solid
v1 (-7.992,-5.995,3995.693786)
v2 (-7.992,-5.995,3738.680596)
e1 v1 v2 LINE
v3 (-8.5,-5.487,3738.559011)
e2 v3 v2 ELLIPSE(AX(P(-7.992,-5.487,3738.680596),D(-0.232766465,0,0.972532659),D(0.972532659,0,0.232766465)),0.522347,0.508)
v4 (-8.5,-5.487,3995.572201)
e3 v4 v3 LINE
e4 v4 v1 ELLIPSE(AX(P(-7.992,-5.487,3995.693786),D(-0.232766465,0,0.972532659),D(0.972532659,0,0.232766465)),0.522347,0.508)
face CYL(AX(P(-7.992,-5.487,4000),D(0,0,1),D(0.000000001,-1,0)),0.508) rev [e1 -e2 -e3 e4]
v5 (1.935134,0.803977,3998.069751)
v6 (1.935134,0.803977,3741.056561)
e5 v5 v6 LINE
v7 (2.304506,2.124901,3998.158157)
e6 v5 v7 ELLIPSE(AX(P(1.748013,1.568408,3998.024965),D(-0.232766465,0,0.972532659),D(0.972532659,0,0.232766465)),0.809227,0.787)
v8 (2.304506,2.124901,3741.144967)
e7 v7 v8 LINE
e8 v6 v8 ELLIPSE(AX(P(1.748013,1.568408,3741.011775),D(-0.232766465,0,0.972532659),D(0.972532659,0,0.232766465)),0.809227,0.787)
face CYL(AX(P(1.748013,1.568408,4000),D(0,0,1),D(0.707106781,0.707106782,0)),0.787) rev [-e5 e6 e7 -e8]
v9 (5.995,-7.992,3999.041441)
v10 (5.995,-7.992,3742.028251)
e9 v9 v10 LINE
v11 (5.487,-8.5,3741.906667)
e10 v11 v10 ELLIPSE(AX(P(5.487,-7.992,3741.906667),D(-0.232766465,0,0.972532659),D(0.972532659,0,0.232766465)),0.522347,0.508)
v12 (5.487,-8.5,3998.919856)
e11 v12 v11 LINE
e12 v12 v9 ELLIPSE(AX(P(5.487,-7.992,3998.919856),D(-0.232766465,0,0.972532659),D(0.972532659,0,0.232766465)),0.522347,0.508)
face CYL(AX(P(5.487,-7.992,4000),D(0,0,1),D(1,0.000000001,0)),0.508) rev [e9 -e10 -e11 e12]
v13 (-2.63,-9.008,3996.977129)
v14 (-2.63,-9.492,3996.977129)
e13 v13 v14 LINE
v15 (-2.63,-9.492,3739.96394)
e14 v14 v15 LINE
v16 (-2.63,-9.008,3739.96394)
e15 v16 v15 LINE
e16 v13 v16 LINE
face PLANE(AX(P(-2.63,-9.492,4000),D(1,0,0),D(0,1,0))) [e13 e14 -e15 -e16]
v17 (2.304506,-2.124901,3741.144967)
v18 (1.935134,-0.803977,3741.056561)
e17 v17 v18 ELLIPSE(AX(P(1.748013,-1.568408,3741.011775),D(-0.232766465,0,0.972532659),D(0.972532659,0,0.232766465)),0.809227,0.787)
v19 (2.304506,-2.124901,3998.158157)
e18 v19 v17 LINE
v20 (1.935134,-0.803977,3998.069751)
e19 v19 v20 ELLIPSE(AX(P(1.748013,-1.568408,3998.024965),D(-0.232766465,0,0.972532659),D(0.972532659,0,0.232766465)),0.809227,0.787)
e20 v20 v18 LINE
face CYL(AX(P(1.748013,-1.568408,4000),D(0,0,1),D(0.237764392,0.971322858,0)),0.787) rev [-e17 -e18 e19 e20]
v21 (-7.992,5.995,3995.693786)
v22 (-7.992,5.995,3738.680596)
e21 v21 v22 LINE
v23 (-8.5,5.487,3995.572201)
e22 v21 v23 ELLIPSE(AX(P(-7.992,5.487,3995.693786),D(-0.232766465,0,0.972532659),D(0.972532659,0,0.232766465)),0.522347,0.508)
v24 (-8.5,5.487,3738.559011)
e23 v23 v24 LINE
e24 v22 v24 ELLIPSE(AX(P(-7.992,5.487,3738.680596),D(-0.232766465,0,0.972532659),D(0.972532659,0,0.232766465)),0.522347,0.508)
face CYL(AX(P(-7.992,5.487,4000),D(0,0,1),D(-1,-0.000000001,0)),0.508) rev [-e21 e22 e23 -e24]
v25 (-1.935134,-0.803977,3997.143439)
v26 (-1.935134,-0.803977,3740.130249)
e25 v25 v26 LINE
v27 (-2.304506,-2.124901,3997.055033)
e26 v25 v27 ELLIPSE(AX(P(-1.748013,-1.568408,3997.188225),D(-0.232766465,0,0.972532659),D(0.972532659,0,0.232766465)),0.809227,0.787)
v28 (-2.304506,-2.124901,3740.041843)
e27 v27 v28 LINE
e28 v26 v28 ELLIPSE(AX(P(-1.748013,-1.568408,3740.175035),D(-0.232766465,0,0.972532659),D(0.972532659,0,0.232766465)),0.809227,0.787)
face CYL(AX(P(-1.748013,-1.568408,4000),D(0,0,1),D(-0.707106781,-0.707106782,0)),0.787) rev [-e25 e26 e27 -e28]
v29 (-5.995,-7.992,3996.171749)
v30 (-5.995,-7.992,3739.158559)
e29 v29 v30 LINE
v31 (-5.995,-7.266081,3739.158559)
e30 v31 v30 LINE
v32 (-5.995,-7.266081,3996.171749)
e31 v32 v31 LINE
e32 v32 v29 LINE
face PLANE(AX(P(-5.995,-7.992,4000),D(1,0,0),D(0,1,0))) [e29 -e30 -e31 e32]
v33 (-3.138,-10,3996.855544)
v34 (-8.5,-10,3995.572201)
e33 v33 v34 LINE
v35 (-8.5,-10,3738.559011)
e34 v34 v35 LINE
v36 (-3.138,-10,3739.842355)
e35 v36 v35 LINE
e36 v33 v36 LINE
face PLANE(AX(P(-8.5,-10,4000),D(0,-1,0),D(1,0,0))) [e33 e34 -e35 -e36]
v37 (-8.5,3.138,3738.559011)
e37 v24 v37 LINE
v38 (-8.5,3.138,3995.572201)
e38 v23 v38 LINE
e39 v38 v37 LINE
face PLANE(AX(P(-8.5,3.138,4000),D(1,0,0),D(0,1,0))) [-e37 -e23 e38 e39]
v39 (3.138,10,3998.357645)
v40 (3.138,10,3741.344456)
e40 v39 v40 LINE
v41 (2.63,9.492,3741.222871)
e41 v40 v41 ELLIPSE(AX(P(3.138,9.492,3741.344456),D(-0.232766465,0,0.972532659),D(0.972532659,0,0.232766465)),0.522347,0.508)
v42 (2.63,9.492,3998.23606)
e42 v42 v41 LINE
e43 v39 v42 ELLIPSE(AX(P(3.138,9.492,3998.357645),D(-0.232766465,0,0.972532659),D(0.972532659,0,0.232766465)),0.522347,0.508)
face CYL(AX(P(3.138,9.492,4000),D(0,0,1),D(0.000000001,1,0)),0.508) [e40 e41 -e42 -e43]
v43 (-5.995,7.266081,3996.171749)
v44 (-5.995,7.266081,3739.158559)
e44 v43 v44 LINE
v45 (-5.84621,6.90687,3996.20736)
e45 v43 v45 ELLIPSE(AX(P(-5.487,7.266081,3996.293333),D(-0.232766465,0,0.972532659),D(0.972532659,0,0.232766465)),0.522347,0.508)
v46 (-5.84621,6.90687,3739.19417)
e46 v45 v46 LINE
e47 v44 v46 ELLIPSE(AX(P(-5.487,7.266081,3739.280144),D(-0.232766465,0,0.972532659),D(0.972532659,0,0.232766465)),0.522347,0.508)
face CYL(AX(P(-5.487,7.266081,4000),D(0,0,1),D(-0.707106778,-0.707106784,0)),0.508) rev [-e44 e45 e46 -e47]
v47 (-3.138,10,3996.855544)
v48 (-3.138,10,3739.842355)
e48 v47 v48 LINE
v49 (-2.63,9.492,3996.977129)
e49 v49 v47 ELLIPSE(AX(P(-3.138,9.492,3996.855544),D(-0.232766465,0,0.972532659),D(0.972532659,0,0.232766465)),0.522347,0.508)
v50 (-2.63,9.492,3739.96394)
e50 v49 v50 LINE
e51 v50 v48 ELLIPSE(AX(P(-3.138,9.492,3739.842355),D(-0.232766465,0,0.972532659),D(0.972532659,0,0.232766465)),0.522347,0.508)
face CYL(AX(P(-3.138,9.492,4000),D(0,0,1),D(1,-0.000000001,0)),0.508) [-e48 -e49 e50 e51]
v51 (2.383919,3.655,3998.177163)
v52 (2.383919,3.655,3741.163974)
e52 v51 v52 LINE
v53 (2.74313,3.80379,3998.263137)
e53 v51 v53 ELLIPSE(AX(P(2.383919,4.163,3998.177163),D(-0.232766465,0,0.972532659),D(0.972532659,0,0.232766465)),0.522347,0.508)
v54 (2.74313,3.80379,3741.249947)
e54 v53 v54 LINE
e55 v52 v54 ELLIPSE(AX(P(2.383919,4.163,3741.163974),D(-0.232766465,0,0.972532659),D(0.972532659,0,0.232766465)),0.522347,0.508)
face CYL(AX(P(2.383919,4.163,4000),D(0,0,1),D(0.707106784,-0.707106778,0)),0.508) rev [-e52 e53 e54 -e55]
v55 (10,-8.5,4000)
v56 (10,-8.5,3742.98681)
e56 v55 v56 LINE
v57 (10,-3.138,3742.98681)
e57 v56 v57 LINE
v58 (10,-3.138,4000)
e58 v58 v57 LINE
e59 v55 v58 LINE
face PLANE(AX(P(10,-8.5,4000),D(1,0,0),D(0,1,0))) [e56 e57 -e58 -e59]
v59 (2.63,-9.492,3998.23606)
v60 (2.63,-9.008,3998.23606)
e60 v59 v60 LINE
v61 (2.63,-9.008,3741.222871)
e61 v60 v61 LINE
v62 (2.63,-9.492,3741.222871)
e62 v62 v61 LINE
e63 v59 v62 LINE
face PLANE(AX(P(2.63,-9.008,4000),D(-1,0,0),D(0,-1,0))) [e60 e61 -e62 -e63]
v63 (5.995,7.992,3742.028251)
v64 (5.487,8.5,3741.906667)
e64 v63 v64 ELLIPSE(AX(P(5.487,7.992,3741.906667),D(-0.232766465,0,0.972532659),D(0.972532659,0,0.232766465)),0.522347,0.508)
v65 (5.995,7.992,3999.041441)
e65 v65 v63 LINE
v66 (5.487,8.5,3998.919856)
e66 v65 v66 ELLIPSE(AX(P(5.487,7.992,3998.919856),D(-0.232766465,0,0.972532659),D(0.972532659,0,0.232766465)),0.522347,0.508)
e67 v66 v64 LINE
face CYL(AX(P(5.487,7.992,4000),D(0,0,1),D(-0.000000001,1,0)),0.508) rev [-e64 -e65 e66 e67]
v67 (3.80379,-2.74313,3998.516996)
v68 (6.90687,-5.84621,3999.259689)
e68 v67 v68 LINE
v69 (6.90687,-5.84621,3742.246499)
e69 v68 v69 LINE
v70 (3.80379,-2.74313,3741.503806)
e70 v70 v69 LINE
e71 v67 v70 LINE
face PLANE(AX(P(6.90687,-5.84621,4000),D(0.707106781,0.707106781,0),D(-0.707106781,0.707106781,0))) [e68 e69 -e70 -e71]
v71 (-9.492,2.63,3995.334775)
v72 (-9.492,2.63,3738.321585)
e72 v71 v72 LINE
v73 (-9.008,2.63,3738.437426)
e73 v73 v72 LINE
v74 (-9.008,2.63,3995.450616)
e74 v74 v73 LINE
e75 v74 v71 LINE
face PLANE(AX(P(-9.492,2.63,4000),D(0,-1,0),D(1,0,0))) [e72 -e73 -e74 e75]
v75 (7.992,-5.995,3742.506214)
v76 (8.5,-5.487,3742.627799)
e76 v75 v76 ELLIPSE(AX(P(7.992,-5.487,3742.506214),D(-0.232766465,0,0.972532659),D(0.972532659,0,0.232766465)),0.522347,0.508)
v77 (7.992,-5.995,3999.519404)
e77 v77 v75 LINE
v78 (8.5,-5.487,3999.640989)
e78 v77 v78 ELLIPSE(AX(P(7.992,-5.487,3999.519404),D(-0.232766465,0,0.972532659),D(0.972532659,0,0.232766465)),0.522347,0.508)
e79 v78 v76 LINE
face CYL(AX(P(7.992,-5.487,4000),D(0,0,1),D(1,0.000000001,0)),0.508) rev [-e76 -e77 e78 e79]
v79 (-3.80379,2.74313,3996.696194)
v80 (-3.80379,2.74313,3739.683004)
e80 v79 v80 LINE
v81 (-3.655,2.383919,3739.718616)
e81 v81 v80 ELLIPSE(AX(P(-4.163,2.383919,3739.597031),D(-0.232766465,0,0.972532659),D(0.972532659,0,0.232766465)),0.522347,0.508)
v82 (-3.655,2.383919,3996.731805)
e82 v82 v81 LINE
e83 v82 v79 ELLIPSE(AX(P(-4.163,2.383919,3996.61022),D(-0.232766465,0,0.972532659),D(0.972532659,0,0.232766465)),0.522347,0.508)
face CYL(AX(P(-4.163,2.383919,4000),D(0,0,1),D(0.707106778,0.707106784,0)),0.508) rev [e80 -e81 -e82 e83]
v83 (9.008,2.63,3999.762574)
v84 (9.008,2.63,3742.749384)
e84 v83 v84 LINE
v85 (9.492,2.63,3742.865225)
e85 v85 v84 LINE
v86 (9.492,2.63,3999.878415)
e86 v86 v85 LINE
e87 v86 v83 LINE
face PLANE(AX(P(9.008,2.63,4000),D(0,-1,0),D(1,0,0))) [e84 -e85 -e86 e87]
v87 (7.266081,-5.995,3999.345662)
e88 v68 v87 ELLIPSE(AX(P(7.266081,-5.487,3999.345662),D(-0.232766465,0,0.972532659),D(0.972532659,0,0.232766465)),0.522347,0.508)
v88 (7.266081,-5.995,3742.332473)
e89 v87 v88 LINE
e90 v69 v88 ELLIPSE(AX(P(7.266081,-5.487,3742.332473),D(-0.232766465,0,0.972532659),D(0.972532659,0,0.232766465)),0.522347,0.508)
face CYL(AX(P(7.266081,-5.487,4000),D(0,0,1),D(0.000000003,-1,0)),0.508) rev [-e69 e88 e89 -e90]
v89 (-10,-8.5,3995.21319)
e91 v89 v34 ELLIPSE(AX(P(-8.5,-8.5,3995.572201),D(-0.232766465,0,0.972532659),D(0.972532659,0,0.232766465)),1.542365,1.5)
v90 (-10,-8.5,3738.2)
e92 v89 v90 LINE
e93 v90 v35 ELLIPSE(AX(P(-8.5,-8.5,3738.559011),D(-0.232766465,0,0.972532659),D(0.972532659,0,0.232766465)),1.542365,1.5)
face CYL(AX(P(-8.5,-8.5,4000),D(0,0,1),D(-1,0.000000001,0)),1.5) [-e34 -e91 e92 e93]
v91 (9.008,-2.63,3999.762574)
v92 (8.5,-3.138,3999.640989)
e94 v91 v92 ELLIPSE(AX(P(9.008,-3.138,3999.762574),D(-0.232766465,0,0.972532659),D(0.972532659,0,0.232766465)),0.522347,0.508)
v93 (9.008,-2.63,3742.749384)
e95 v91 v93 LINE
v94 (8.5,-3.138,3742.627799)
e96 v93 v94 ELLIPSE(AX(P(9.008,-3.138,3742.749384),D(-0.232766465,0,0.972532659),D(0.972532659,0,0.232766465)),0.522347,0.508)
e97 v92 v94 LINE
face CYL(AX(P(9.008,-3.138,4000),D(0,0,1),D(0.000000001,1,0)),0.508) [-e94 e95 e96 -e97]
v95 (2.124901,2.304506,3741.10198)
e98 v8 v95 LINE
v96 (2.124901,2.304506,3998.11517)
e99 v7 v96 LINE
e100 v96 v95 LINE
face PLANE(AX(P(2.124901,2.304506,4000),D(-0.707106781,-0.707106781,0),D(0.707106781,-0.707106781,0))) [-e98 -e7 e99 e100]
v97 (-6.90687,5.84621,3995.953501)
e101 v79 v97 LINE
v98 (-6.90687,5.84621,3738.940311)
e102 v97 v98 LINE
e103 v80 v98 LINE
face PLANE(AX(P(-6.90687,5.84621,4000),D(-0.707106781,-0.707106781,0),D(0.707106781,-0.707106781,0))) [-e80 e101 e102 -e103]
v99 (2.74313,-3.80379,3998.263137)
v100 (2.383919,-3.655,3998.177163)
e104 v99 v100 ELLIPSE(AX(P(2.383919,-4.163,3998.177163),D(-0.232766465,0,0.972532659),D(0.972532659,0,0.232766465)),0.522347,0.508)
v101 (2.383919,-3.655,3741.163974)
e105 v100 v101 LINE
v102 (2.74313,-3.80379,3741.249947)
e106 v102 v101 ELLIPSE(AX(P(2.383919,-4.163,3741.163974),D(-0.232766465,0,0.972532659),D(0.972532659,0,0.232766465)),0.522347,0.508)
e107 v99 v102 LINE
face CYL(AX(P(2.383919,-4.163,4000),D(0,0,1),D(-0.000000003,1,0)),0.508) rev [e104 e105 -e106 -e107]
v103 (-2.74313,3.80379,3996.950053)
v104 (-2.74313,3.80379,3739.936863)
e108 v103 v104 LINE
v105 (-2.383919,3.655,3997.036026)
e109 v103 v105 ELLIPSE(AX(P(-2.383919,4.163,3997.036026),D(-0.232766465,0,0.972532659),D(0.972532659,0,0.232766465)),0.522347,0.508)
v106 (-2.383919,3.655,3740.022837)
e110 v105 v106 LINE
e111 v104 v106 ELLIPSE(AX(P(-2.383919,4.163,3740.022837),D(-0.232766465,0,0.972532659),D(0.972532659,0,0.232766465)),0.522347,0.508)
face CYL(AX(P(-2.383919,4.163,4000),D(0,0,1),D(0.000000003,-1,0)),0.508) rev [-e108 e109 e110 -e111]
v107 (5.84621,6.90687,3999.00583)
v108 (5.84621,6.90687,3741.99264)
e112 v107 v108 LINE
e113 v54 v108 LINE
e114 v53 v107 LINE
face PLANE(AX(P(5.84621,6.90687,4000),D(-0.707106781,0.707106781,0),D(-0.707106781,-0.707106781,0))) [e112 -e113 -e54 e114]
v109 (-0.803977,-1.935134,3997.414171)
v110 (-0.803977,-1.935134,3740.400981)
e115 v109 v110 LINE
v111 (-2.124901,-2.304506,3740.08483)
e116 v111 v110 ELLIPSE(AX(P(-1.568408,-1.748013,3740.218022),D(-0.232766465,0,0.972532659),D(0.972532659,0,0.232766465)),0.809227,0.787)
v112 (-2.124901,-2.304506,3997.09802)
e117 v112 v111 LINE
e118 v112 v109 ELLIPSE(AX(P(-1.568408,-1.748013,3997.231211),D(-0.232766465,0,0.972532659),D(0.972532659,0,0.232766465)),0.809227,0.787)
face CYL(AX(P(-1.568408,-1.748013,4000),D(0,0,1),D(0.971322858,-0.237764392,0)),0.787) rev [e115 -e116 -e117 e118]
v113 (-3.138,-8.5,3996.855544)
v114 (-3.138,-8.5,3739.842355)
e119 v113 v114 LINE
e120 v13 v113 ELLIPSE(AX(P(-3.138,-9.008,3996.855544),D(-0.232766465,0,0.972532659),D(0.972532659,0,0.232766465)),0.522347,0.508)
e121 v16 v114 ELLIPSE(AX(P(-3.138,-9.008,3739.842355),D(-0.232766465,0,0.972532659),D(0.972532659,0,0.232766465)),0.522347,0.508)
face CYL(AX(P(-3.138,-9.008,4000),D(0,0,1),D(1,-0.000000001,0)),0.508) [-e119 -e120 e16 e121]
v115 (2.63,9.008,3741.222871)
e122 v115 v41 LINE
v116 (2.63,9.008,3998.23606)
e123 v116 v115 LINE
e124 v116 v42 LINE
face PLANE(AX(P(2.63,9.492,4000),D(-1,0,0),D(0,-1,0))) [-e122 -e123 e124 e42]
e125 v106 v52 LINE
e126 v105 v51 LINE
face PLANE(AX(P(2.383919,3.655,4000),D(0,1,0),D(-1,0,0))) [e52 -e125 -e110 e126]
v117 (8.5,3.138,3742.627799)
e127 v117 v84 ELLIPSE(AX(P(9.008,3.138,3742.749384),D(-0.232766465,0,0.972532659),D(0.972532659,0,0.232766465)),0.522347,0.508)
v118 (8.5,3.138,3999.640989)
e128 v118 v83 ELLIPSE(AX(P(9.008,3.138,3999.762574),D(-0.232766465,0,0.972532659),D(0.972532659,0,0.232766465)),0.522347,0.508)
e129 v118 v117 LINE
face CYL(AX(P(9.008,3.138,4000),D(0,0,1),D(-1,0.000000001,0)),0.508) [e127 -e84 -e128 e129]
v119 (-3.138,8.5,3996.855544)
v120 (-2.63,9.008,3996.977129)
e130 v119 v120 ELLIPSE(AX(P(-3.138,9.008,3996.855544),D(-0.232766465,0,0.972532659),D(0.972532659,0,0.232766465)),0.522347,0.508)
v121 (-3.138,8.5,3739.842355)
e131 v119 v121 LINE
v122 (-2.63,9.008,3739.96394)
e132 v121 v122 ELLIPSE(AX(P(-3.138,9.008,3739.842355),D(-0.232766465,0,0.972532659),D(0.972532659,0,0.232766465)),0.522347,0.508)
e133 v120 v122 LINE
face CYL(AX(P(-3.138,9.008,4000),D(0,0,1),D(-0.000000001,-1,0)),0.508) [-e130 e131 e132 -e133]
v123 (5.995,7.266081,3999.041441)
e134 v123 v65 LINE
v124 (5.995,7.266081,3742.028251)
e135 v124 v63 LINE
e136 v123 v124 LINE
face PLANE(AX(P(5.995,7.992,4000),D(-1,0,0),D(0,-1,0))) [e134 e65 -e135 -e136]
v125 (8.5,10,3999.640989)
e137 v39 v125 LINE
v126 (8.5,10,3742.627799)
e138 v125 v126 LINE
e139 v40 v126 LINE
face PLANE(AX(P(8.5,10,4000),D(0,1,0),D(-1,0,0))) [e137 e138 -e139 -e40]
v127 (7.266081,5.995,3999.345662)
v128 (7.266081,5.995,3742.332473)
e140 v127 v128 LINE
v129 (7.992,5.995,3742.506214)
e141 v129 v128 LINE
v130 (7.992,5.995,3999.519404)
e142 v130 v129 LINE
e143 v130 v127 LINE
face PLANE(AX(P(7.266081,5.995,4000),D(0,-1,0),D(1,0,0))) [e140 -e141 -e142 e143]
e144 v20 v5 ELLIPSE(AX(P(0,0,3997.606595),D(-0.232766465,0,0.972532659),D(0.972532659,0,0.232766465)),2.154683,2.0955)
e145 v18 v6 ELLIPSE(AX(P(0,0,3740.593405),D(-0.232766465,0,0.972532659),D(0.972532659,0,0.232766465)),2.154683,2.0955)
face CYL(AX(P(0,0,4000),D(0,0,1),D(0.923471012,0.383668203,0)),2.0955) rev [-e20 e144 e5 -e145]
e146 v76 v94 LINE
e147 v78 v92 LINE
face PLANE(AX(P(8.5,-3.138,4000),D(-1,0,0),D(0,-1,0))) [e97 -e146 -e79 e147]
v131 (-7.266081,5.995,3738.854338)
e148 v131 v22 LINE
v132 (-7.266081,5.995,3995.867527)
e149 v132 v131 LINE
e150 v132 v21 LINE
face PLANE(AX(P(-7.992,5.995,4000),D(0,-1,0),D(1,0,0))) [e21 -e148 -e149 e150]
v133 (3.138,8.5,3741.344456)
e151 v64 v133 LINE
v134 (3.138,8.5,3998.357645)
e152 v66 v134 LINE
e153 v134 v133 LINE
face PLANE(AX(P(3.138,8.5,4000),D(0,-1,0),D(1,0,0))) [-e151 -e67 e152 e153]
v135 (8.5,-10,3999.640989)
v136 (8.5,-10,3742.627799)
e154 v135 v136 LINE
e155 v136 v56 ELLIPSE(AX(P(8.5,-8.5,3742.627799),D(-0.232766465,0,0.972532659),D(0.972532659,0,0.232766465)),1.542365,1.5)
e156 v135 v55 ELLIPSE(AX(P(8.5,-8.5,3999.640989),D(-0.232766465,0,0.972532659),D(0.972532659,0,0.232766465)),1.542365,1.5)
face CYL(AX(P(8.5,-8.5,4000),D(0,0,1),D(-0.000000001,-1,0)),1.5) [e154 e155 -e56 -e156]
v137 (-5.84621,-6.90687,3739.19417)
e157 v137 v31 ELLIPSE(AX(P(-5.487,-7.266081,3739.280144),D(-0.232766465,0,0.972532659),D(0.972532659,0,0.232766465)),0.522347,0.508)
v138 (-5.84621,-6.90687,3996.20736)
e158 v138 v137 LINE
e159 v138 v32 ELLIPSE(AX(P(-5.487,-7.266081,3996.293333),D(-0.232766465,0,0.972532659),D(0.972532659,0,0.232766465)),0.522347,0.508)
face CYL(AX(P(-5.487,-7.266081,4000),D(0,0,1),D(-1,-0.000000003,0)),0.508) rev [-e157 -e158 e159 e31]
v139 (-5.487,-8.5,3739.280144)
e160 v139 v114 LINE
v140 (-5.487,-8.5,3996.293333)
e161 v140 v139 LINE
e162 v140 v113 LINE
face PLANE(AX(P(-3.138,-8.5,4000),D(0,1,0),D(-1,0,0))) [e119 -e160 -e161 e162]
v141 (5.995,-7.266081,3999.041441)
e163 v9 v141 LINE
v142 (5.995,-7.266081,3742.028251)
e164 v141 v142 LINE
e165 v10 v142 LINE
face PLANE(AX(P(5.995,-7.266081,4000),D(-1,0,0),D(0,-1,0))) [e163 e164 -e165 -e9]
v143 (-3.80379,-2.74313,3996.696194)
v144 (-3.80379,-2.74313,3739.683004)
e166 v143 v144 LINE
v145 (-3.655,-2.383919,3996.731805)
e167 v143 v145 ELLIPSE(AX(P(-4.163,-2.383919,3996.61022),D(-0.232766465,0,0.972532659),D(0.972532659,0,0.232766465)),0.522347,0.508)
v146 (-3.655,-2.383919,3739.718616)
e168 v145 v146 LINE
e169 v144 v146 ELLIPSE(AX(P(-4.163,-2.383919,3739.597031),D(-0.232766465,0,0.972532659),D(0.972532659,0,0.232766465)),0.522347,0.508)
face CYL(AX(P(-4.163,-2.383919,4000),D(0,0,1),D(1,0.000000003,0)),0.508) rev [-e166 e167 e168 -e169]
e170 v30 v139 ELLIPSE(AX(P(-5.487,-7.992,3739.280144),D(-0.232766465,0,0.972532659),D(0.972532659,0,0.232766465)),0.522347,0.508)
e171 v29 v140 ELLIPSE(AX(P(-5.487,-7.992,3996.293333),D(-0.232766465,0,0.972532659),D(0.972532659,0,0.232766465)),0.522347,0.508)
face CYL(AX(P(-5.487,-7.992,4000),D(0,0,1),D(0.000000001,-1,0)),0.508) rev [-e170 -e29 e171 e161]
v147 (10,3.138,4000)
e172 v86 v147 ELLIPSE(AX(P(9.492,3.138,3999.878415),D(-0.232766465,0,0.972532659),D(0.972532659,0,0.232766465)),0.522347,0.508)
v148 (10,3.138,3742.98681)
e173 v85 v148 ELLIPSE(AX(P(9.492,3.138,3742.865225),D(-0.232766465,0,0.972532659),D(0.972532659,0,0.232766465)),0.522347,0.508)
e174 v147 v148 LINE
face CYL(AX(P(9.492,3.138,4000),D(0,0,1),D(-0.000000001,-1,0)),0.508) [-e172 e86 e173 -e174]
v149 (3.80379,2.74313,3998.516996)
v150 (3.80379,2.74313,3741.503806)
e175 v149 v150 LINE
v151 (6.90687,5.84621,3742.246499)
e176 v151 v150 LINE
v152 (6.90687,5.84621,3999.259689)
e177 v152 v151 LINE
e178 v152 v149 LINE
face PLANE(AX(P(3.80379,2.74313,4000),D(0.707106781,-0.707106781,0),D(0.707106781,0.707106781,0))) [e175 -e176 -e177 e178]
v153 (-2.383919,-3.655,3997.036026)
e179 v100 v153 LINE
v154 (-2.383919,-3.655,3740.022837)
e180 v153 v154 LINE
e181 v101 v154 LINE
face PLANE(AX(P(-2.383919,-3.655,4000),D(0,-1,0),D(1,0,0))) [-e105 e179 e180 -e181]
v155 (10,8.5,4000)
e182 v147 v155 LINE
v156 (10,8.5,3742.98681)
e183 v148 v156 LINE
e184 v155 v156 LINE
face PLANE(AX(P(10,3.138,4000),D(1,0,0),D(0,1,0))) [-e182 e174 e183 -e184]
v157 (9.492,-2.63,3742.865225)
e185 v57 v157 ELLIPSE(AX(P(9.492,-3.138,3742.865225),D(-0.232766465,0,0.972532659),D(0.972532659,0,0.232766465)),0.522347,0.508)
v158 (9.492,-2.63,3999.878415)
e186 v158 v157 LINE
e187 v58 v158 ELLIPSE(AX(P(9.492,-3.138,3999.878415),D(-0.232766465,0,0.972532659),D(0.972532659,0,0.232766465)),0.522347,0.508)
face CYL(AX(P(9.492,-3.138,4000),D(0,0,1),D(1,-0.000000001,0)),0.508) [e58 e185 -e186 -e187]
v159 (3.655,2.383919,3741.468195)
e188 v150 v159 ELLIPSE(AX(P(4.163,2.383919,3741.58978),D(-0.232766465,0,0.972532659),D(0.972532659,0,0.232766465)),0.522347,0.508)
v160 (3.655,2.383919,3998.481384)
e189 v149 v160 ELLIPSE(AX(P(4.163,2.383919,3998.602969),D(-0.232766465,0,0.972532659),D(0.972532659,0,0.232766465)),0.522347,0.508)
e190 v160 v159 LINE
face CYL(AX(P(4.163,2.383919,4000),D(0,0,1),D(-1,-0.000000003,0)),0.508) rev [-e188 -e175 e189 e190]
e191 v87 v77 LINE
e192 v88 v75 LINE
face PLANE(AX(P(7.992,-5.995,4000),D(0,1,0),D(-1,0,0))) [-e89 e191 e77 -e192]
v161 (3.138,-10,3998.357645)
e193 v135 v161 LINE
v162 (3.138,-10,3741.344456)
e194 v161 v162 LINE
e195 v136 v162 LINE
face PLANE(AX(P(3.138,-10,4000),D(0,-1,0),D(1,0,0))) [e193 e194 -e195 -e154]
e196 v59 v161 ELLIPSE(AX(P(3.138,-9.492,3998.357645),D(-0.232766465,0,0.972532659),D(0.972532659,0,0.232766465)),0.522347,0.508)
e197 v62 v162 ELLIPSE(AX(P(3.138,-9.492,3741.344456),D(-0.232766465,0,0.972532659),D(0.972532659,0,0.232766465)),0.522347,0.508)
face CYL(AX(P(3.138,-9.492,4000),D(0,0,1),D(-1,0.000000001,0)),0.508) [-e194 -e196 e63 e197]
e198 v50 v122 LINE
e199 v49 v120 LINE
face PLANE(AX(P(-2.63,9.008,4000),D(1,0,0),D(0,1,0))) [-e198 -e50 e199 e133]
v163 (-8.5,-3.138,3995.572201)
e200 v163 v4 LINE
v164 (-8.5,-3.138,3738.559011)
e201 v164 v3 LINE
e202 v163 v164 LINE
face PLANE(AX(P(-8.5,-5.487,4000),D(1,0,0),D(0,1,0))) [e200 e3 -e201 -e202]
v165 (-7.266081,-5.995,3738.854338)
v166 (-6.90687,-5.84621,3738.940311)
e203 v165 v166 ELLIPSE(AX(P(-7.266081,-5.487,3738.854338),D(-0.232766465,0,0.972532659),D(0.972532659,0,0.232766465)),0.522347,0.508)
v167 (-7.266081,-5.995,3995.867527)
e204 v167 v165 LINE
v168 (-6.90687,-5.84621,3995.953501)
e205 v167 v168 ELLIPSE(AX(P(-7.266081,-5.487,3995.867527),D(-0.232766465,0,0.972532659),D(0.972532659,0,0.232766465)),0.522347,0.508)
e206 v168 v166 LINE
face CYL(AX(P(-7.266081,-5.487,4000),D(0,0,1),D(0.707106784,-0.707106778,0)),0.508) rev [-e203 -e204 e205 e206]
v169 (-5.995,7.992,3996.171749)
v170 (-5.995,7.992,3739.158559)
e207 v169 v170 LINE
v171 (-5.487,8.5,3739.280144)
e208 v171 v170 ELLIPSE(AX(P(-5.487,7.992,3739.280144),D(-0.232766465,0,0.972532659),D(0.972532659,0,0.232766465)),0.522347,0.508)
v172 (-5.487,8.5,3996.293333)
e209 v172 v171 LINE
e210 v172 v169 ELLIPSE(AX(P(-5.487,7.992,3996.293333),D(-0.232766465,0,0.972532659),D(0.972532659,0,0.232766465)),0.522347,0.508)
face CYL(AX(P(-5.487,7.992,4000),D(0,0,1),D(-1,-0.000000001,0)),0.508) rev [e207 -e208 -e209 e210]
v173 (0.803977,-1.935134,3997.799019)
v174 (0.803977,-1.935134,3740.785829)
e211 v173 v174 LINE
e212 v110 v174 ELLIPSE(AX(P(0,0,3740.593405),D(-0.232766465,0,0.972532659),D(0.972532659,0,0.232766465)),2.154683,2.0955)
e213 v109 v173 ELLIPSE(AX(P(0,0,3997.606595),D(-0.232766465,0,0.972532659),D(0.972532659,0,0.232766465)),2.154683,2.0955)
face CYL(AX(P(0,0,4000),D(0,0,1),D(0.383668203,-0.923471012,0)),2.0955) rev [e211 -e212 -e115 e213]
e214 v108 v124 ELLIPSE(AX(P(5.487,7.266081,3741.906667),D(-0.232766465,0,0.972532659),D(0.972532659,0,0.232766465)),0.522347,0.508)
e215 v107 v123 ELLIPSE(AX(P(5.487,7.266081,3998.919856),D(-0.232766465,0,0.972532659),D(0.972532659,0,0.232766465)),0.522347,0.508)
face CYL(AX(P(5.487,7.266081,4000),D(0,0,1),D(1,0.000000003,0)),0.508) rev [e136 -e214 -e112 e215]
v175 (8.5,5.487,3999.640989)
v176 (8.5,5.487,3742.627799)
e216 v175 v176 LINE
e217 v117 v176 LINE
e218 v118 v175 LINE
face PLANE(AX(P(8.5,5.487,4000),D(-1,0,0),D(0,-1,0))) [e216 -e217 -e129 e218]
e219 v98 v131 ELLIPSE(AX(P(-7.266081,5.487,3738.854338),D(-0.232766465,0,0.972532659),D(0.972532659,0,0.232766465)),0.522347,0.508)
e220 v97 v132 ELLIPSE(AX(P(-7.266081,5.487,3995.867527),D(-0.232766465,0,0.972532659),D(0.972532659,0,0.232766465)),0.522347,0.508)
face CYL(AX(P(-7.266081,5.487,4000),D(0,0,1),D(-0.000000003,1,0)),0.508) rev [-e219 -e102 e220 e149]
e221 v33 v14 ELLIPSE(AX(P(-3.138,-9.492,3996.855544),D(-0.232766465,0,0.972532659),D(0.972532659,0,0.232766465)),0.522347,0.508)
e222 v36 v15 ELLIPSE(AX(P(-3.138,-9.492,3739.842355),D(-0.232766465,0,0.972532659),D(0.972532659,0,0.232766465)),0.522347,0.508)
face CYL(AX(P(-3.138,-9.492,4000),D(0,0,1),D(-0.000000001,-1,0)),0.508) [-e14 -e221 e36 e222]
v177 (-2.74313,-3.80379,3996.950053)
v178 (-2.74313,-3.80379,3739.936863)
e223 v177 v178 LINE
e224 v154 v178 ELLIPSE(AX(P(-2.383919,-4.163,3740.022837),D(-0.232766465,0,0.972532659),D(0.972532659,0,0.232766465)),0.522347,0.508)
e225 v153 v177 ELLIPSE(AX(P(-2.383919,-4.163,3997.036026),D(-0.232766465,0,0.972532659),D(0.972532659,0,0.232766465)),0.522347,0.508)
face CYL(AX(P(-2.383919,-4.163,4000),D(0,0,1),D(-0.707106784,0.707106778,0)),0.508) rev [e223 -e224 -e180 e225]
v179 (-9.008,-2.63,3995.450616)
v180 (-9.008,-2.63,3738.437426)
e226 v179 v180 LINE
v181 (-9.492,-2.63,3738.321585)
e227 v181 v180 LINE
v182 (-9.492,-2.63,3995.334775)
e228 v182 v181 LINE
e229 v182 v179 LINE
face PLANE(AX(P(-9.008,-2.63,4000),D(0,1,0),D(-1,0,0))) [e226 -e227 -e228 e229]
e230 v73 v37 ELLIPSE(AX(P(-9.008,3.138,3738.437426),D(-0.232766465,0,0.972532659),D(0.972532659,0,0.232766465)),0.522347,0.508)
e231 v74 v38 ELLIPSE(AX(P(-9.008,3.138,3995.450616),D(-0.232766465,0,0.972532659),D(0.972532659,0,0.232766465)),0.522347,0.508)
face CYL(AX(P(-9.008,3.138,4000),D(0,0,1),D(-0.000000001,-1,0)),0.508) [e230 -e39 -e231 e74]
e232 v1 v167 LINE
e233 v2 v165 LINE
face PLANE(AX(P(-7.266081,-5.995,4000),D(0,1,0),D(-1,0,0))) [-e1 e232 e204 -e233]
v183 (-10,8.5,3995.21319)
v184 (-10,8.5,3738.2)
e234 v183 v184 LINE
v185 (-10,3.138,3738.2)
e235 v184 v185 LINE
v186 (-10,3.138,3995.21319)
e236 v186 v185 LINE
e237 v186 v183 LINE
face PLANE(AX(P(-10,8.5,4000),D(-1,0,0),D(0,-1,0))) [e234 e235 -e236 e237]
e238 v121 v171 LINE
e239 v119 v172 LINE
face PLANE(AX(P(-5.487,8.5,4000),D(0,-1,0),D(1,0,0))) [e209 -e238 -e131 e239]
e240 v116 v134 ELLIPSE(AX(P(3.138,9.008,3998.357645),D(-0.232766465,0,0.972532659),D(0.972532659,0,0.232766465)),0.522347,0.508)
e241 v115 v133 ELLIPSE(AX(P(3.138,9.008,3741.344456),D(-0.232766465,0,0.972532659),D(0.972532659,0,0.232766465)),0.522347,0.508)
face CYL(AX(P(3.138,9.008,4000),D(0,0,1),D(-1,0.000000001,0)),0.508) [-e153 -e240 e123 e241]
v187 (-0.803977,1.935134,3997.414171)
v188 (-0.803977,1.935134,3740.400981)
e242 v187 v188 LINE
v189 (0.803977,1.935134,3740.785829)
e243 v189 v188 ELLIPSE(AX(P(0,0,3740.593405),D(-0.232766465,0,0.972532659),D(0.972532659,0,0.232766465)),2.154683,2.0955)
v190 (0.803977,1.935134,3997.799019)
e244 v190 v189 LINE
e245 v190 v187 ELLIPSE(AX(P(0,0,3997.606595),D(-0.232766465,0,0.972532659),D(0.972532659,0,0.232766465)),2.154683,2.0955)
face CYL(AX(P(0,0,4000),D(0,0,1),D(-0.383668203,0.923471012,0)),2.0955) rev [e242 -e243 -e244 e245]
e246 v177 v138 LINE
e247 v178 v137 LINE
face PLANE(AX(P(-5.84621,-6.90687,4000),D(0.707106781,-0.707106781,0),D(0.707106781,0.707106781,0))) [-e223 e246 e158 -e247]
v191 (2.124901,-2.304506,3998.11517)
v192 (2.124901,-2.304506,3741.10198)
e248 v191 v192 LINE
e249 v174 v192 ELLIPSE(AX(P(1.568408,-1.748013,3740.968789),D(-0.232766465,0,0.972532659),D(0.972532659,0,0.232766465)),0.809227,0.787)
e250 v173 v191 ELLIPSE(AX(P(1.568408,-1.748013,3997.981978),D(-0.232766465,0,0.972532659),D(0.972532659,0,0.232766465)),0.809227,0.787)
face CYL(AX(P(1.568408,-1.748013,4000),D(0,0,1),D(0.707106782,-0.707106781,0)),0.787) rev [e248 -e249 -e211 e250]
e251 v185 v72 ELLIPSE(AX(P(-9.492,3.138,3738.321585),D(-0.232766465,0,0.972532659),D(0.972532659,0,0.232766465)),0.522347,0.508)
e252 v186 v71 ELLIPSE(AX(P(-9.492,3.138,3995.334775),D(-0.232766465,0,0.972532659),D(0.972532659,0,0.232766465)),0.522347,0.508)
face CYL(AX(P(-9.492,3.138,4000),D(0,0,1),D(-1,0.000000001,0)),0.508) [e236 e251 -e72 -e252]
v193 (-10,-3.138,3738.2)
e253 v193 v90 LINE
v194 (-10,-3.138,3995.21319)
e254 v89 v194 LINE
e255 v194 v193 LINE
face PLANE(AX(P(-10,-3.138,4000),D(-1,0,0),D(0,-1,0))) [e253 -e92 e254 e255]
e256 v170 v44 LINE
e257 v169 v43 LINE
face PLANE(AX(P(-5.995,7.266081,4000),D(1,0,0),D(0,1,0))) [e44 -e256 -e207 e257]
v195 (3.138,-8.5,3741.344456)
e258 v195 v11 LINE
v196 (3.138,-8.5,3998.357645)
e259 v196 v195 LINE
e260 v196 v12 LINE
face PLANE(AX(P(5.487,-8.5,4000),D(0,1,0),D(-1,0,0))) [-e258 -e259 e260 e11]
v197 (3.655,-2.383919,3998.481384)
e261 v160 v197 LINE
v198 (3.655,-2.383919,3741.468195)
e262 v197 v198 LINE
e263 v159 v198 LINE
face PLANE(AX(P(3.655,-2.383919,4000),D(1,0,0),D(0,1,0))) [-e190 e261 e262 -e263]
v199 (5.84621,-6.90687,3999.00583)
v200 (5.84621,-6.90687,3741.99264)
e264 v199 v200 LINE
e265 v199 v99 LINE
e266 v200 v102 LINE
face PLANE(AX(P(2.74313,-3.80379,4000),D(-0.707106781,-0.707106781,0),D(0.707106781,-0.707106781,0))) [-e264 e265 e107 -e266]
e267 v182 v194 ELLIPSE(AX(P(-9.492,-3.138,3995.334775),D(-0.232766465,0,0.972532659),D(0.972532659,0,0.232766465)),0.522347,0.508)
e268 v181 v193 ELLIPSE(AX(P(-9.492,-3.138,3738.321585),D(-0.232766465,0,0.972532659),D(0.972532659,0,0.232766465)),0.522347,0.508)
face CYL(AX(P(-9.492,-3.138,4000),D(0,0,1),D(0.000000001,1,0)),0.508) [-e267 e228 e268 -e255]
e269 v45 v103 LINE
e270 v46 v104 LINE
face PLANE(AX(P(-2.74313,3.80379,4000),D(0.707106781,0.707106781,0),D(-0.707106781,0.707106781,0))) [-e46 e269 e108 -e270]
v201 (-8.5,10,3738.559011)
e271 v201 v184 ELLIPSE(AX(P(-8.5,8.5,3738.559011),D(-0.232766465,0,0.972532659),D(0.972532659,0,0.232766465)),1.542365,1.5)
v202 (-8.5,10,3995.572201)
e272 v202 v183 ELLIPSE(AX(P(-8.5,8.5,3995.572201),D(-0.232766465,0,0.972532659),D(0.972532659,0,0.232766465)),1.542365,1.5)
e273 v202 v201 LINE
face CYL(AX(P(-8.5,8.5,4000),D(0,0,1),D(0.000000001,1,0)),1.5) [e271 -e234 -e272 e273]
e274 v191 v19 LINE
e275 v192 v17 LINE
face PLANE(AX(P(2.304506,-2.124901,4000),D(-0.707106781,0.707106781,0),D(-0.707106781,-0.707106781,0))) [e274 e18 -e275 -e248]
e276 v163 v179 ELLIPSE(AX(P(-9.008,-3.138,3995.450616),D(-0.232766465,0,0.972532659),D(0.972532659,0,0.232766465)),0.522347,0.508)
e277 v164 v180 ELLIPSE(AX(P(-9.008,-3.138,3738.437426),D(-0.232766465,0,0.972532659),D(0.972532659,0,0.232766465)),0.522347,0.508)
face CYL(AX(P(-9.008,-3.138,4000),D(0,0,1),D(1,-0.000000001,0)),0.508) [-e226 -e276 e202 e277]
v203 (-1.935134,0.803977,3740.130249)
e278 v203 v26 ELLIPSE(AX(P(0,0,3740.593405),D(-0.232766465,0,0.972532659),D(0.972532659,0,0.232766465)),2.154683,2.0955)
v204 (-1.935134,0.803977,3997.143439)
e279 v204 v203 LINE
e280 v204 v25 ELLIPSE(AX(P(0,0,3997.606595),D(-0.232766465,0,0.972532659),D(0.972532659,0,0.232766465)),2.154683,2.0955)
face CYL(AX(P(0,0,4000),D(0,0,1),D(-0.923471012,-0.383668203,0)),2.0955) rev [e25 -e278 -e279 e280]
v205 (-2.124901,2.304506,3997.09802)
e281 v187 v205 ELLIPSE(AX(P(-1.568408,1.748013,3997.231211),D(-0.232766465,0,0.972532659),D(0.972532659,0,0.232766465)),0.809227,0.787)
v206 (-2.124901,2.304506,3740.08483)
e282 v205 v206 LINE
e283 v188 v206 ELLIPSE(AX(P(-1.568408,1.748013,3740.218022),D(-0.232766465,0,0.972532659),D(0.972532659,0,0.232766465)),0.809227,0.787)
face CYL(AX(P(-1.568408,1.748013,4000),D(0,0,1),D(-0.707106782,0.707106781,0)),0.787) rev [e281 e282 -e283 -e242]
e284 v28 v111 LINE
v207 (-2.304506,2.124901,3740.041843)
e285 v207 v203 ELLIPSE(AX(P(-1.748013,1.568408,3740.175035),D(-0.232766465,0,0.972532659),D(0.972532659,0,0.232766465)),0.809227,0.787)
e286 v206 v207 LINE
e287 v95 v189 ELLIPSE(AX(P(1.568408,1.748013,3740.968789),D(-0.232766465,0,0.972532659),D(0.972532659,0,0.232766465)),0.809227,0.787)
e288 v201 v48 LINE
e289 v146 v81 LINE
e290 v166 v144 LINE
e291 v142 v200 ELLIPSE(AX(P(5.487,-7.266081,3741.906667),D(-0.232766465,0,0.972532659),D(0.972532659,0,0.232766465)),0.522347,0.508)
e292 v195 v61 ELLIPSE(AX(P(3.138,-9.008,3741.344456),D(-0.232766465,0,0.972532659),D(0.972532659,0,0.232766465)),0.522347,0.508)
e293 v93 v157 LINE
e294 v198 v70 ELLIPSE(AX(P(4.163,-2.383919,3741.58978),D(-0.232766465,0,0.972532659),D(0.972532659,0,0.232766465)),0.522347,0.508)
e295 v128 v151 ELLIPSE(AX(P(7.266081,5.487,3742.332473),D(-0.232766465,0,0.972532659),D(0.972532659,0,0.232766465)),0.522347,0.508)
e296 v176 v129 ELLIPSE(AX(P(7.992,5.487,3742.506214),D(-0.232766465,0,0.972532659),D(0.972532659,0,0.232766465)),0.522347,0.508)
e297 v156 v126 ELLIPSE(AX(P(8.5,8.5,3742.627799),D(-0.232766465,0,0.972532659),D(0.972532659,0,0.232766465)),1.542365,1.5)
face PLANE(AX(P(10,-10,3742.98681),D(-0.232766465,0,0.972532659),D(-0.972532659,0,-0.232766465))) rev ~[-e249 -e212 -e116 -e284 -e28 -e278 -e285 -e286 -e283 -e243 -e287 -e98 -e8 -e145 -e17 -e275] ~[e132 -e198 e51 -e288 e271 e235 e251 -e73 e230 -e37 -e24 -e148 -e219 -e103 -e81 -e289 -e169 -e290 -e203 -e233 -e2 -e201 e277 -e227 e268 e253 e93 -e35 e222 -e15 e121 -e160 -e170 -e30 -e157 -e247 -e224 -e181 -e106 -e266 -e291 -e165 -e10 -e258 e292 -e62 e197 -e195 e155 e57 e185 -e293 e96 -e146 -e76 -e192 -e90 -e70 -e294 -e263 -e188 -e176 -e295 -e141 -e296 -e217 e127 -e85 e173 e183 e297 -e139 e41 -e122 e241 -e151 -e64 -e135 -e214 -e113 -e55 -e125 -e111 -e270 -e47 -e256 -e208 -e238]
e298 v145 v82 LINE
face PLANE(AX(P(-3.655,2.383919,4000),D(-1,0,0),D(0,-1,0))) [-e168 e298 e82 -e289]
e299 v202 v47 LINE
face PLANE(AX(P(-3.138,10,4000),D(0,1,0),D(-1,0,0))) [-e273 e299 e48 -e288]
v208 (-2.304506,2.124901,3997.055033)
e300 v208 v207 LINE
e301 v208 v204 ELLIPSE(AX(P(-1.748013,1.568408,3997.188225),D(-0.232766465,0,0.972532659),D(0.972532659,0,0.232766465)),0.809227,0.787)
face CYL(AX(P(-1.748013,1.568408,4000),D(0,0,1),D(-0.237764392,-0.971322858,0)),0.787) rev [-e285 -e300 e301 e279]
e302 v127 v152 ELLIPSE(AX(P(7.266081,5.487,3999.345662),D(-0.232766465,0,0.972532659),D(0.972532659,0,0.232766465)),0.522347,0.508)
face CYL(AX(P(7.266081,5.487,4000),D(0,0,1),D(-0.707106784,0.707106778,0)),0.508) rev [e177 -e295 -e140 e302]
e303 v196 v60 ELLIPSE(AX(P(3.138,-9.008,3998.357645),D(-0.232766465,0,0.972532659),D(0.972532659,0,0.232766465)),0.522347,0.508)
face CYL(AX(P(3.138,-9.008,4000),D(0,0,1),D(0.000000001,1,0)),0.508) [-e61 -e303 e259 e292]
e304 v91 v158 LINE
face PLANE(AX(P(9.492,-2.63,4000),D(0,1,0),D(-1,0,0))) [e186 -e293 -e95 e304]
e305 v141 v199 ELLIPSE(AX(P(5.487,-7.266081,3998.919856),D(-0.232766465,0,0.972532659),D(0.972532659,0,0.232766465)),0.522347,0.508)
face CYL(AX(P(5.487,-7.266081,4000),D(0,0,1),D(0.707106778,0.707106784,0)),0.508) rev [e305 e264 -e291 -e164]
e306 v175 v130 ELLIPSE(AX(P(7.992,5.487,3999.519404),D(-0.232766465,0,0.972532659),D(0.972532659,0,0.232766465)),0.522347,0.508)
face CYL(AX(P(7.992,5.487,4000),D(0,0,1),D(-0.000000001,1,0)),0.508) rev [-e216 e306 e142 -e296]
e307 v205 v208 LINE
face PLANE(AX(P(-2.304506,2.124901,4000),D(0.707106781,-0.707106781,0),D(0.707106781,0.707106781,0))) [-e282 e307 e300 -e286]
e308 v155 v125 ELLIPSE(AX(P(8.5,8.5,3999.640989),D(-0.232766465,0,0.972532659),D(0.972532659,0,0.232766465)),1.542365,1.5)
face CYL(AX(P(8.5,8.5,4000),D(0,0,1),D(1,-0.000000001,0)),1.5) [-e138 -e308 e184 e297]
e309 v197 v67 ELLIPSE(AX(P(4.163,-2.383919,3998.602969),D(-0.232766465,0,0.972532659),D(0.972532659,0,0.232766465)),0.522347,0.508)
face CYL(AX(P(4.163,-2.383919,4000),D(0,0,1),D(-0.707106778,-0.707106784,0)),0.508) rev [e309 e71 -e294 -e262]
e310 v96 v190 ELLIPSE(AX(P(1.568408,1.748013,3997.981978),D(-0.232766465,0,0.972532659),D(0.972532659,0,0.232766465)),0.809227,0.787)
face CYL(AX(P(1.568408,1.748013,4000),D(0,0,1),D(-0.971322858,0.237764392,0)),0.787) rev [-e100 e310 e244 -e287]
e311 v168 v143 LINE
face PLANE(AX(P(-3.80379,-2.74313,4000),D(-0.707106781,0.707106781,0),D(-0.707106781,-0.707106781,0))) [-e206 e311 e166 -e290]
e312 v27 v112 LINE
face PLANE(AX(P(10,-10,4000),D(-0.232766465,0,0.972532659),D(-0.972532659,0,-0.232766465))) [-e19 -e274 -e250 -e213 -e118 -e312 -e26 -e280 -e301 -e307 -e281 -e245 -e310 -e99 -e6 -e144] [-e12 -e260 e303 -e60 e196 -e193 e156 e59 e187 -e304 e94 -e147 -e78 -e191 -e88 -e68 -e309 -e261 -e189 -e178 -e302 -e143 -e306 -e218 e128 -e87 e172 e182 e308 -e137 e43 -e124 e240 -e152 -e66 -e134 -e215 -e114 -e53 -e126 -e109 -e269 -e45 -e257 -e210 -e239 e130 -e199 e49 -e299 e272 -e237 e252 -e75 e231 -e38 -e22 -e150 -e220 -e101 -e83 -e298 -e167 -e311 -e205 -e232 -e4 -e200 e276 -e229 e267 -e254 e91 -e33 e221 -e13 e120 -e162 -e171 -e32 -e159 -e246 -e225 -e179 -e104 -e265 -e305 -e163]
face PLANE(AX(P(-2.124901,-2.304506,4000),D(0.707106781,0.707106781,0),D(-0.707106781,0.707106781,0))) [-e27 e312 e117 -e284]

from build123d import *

# Parameters (mm, degrees)
BOSS_EXTRUDE1_DEPTH = 261.8
CUT_EXTRUDE1_DEPTH  = 4001.062499512


with BuildPart() as part:
    # Sketch1 → Boss-Extrude1 (new body)
    with BuildSketch(Plane.XY.offset(4000)):
        with BuildLine():
            Line((10, 3.138), (10, 8.5))
            ThreePointArc((10, 8.5), (9.560660172, 9.560660172), (8.5, 10))
            Line((8.5, 10), (3.138, 10))
            ThreePointArc((3.138, 10), (2.778789755, 9.851210245), (2.63, 9.492))
            Line((2.63, 9.492), (2.63, 9.008))
            ThreePointArc((2.63, 9.008), (2.778789755, 8.648789755), (3.138, 8.5))
            Line((3.138, 8.5), (5.487, 8.5))
            ThreePointArc((5.487, 8.5), (5.846210245, 8.351210245), (5.995, 7.992))
            Line((5.995, 7.992), (5.995, 7.266080661))
            ThreePointArc((5.995, 7.266080661), (5.956330803, 7.071677478), (5.846210245, 6.906870417))
            Line((5.846210245, 6.906870417), (2.743129583, 3.803789755))
            ThreePointArc((2.743129583, 3.803789755), (2.578322522, 3.693669197), (2.383919339, 3.655))
            Line((2.383919339, 3.655), (-2.383919339, 3.655))
            ThreePointArc((-2.383919339, 3.655), (-2.578322522, 3.693669197), (-2.743129583, 3.803789755))
            Line((-2.743129583, 3.803789755), (-5.846210245, 6.906870417))
            ThreePointArc((-5.846210245, 6.906870417), (-5.956330803, 7.071677478), (-5.995, 7.266080661))
            Line((-5.995, 7.266080661), (-5.995, 7.992))
            ThreePointArc((-5.995, 7.992), (-5.846210245, 8.351210245), (-5.487, 8.5))
            Line((-5.487, 8.5), (-3.138, 8.5))
            ThreePointArc((-3.138, 8.5), (-2.778789755, 8.648789755), (-2.63, 9.008))
            Line((-2.63, 9.008), (-2.63, 9.492))
            ThreePointArc((-2.63, 9.492), (-2.778789755, 9.851210245), (-3.138, 10))
            Line((-3.138, 10), (-8.5, 10))
            ThreePointArc((-8.5, 10), (-9.560660172, 9.560660172), (-10, 8.5))
            Line((-10, 8.5), (-10, 3.138))
            ThreePointArc((-10, 3.138), (-9.851210245, 2.778789755), (-9.492, 2.63))
            Line((-9.492, 2.63), (-9.008, 2.63))
            ThreePointArc((-9.008, 2.63), (-8.648789755, 2.778789755), (-8.5, 3.138))
            Line((-8.5, 3.138), (-8.5, 5.487))
            ThreePointArc((-8.5, 5.487), (-8.351210245, 5.846210245), (-7.992, 5.995))
            Line((-7.992, 5.995), (-7.266080661, 5.995))
            ThreePointArc((-7.266080661, 5.995), (-7.071677478, 5.956330803), (-6.906870417, 5.846210245))
            Line((-6.906870417, 5.846210245), (-3.803789755, 2.743129583))
            ThreePointArc((-3.803789755, 2.743129583), (-3.693669197, 2.578322522), (-3.655, 2.383919339))
            Line((-3.655, 2.383919339), (-3.655, -2.383919339))
            ThreePointArc((-3.655, -2.383919339), (-3.693669197, -2.578322522), (-3.803789755, -2.743129583))
            Line((-3.803789755, -2.743129583), (-6.906870417, -5.846210245))
            ThreePointArc((-6.906870417, -5.846210245), (-7.071677478, -5.956330803), (-7.266080661, -5.995))
            Line((-7.266080661, -5.995), (-7.992, -5.995))
            ThreePointArc((-7.992, -5.995), (-8.351210245, -5.846210245), (-8.5, -5.487))
            Line((-8.5, -5.487), (-8.5, -3.138))
            ThreePointArc((-8.5, -3.138), (-8.648789755, -2.778789755), (-9.008, -2.63))
            Line((-9.008, -2.63), (-9.492, -2.63))
            ThreePointArc((-9.492, -2.63), (-9.851210245, -2.778789755), (-10, -3.138))
            Line((-10, -3.138), (-10, -8.5))
            ThreePointArc((-10, -8.5), (-9.560660172, -9.560660172), (-8.5, -10))
            Line((-8.5, -10), (-3.138, -10))
            ThreePointArc((-3.138, -10), (-2.778789755, -9.851210245), (-2.63, -9.492))
            Line((-2.63, -9.492), (-2.63, -9.008))
            ThreePointArc((-2.63, -9.008), (-2.778789755, -8.648789755), (-3.138, -8.5))
            Line((-3.138, -8.5), (-5.487, -8.5))
            ThreePointArc((-5.487, -8.5), (-5.846210245, -8.351210245), (-5.995, -7.992))
            Line((-5.995, -7.992), (-5.995, -7.266080661))
            ThreePointArc((-5.995, -7.266080661), (-5.956330803, -7.071677478), (-5.846210245, -6.906870417))
            Line((-5.846210245, -6.906870417), (-2.743129583, -3.803789755))
            ThreePointArc((-2.743129583, -3.803789755), (-2.578322522, -3.693669197), (-2.383919339, -3.655))
            Line((-2.383919339, -3.655), (2.383919339, -3.655))
            ThreePointArc((2.383919339, -3.655), (2.578322522, -3.693669197), (2.743129583, -3.803789755))
            Line((2.743129583, -3.803789755), (5.846210245, -6.906870417))
            ThreePointArc((5.846210245, -6.906870417), (5.956330803, -7.071677478), (5.995, -7.266080661))
            Line((5.995, -7.266080661), (5.995, -7.992))
            ThreePointArc((5.995, -7.992), (5.846210245, -8.351210245), (5.487, -8.5))
            Line((5.487, -8.5), (3.138, -8.5))
            ThreePointArc((3.138, -8.5), (2.778789755, -8.648789755), (2.63, -9.008))
            Line((2.63, -9.008), (2.63, -9.492))
            ThreePointArc((2.63, -9.492), (2.778789755, -9.851210245), (3.138, -10))
            Line((3.138, -10), (8.5, -10))
            ThreePointArc((8.5, -10), (9.560660172, -9.560660172), (10, -8.5))
            Line((10, -8.5), (10, -3.138))
            ThreePointArc((10, -3.138), (9.851210245, -2.778789755), (9.492, -2.63))
            Line((9.492, -2.63), (9.008, -2.63))
            ThreePointArc((9.008, -2.63), (8.648789755, -2.778789755), (8.5, -3.138))
            Line((8.5, -3.138), (8.5, -5.487))
            ThreePointArc((8.5, -5.487), (8.351210245, -5.846210245), (7.992, -5.995))
            Line((7.992, -5.995), (7.266080661, -5.995))
            ThreePointArc((7.266080661, -5.995), (7.071677478, -5.956330803), (6.906870417, -5.846210245))
            Line((6.906870417, -5.846210245), (3.803789755, -2.743129583))
            ThreePointArc((3.803789755, -2.743129583), (3.693669197, -2.578322522), (3.655, -2.383919339))
            Line((3.655, -2.383919339), (3.655, 2.383919339))
            ThreePointArc((3.655, 2.383919339), (3.693669197, 2.578322522), (3.803789755, 2.743129583))
            Line((3.803789755, 2.743129583), (6.906870417, 5.846210245))
            ThreePointArc((6.906870417, 5.846210245), (7.071677478, 5.956330803), (7.266080661, 5.995))
            Line((7.266080661, 5.995), (7.992, 5.995))
            ThreePointArc((7.992, 5.995), (8.351210245, 5.846210245), (8.5, 5.487))
            Line((8.5, 5.487), (8.5, 3.138))
            ThreePointArc((8.5, 3.138), (8.648789755, 2.778789755), (9.008, 2.63))
            Line((9.008, 2.63), (9.492, 2.63))
            ThreePointArc((9.492, 2.63), (9.851210245, 2.778789755), (10, 3.138))
        make_face()
        with BuildLine():
            Line((-2.124900844, -2.304505966), (-2.304505966, -2.124900844))
            ThreePointArc((-2.304505966, -2.124900844), (-2.505938017, -1.356467811), (-1.935133506, -0.803976718))
            ThreePointArc((-1.935133506, -0.803976718), (-2.0955, 0), (-1.935133506, 0.803976718))
            ThreePointArc((-1.935133506, 0.803976718), (-2.505938017, 1.356467811), (-2.304505966, 2.124900844))
            Line((-2.304505966, 2.124900844), (-2.124900844, 2.304505966))
            ThreePointArc((-2.124900844, 2.304505966), (-1.356467811, 2.505938017), (-0.803976718, 1.935133506))
            ThreePointArc((-0.803976718, 1.935133506), (0, 2.0955), (0.803976718, 1.935133506))
            ThreePointArc((0.803976718, 1.935133506), (1.356467811, 2.505938017), (2.124900844, 2.304505966))
            Line((2.124900844, 2.304505966), (2.304505966, 2.124900844))
            ThreePointArc((2.304505966, 2.124900844), (2.505938017, 1.356467811), (1.935133506, 0.803976718))
            ThreePointArc((1.935133506, 0.803976718), (2.0955, 0), (1.935133506, -0.803976718))
            ThreePointArc((1.935133506, -0.803976718), (2.505938017, -1.356467811), (2.304505966, -2.124900844))
            Line((2.304505966, -2.124900844), (2.124900844, -2.304505966))
            ThreePointArc((2.124900844, -2.304505966), (1.356467811, -2.505938017), (0.803976718, -1.935133506))
            ThreePointArc((0.803976718, -1.935133506), (0, -2.0955), (-0.803976718, -1.935133506))
            ThreePointArc((-0.803976718, -1.935133506), (-1.356467811, -2.505938017), (-2.124900844, -2.304505966))
        make_face(mode=Mode.SUBTRACT)
    extrude(amount=-BOSS_EXTRUDE1_DEPTH)

    # Sketch2 → Cut-Extrude1 (cut, through all)
    with BuildSketch(Plane.XZ.offset(10)):
        Polygon((10, 4000), (-10, 3995.213189756), (-10, 4000), align=None)
        Polygon((10, 3738.2), (10, 3742.986810244), (-10, 3738.2), align=None)
    extrude(amount=-CUT_EXTRUDE1_DEPTH, mode=Mode.SUBTRACT)


solid = part.part
